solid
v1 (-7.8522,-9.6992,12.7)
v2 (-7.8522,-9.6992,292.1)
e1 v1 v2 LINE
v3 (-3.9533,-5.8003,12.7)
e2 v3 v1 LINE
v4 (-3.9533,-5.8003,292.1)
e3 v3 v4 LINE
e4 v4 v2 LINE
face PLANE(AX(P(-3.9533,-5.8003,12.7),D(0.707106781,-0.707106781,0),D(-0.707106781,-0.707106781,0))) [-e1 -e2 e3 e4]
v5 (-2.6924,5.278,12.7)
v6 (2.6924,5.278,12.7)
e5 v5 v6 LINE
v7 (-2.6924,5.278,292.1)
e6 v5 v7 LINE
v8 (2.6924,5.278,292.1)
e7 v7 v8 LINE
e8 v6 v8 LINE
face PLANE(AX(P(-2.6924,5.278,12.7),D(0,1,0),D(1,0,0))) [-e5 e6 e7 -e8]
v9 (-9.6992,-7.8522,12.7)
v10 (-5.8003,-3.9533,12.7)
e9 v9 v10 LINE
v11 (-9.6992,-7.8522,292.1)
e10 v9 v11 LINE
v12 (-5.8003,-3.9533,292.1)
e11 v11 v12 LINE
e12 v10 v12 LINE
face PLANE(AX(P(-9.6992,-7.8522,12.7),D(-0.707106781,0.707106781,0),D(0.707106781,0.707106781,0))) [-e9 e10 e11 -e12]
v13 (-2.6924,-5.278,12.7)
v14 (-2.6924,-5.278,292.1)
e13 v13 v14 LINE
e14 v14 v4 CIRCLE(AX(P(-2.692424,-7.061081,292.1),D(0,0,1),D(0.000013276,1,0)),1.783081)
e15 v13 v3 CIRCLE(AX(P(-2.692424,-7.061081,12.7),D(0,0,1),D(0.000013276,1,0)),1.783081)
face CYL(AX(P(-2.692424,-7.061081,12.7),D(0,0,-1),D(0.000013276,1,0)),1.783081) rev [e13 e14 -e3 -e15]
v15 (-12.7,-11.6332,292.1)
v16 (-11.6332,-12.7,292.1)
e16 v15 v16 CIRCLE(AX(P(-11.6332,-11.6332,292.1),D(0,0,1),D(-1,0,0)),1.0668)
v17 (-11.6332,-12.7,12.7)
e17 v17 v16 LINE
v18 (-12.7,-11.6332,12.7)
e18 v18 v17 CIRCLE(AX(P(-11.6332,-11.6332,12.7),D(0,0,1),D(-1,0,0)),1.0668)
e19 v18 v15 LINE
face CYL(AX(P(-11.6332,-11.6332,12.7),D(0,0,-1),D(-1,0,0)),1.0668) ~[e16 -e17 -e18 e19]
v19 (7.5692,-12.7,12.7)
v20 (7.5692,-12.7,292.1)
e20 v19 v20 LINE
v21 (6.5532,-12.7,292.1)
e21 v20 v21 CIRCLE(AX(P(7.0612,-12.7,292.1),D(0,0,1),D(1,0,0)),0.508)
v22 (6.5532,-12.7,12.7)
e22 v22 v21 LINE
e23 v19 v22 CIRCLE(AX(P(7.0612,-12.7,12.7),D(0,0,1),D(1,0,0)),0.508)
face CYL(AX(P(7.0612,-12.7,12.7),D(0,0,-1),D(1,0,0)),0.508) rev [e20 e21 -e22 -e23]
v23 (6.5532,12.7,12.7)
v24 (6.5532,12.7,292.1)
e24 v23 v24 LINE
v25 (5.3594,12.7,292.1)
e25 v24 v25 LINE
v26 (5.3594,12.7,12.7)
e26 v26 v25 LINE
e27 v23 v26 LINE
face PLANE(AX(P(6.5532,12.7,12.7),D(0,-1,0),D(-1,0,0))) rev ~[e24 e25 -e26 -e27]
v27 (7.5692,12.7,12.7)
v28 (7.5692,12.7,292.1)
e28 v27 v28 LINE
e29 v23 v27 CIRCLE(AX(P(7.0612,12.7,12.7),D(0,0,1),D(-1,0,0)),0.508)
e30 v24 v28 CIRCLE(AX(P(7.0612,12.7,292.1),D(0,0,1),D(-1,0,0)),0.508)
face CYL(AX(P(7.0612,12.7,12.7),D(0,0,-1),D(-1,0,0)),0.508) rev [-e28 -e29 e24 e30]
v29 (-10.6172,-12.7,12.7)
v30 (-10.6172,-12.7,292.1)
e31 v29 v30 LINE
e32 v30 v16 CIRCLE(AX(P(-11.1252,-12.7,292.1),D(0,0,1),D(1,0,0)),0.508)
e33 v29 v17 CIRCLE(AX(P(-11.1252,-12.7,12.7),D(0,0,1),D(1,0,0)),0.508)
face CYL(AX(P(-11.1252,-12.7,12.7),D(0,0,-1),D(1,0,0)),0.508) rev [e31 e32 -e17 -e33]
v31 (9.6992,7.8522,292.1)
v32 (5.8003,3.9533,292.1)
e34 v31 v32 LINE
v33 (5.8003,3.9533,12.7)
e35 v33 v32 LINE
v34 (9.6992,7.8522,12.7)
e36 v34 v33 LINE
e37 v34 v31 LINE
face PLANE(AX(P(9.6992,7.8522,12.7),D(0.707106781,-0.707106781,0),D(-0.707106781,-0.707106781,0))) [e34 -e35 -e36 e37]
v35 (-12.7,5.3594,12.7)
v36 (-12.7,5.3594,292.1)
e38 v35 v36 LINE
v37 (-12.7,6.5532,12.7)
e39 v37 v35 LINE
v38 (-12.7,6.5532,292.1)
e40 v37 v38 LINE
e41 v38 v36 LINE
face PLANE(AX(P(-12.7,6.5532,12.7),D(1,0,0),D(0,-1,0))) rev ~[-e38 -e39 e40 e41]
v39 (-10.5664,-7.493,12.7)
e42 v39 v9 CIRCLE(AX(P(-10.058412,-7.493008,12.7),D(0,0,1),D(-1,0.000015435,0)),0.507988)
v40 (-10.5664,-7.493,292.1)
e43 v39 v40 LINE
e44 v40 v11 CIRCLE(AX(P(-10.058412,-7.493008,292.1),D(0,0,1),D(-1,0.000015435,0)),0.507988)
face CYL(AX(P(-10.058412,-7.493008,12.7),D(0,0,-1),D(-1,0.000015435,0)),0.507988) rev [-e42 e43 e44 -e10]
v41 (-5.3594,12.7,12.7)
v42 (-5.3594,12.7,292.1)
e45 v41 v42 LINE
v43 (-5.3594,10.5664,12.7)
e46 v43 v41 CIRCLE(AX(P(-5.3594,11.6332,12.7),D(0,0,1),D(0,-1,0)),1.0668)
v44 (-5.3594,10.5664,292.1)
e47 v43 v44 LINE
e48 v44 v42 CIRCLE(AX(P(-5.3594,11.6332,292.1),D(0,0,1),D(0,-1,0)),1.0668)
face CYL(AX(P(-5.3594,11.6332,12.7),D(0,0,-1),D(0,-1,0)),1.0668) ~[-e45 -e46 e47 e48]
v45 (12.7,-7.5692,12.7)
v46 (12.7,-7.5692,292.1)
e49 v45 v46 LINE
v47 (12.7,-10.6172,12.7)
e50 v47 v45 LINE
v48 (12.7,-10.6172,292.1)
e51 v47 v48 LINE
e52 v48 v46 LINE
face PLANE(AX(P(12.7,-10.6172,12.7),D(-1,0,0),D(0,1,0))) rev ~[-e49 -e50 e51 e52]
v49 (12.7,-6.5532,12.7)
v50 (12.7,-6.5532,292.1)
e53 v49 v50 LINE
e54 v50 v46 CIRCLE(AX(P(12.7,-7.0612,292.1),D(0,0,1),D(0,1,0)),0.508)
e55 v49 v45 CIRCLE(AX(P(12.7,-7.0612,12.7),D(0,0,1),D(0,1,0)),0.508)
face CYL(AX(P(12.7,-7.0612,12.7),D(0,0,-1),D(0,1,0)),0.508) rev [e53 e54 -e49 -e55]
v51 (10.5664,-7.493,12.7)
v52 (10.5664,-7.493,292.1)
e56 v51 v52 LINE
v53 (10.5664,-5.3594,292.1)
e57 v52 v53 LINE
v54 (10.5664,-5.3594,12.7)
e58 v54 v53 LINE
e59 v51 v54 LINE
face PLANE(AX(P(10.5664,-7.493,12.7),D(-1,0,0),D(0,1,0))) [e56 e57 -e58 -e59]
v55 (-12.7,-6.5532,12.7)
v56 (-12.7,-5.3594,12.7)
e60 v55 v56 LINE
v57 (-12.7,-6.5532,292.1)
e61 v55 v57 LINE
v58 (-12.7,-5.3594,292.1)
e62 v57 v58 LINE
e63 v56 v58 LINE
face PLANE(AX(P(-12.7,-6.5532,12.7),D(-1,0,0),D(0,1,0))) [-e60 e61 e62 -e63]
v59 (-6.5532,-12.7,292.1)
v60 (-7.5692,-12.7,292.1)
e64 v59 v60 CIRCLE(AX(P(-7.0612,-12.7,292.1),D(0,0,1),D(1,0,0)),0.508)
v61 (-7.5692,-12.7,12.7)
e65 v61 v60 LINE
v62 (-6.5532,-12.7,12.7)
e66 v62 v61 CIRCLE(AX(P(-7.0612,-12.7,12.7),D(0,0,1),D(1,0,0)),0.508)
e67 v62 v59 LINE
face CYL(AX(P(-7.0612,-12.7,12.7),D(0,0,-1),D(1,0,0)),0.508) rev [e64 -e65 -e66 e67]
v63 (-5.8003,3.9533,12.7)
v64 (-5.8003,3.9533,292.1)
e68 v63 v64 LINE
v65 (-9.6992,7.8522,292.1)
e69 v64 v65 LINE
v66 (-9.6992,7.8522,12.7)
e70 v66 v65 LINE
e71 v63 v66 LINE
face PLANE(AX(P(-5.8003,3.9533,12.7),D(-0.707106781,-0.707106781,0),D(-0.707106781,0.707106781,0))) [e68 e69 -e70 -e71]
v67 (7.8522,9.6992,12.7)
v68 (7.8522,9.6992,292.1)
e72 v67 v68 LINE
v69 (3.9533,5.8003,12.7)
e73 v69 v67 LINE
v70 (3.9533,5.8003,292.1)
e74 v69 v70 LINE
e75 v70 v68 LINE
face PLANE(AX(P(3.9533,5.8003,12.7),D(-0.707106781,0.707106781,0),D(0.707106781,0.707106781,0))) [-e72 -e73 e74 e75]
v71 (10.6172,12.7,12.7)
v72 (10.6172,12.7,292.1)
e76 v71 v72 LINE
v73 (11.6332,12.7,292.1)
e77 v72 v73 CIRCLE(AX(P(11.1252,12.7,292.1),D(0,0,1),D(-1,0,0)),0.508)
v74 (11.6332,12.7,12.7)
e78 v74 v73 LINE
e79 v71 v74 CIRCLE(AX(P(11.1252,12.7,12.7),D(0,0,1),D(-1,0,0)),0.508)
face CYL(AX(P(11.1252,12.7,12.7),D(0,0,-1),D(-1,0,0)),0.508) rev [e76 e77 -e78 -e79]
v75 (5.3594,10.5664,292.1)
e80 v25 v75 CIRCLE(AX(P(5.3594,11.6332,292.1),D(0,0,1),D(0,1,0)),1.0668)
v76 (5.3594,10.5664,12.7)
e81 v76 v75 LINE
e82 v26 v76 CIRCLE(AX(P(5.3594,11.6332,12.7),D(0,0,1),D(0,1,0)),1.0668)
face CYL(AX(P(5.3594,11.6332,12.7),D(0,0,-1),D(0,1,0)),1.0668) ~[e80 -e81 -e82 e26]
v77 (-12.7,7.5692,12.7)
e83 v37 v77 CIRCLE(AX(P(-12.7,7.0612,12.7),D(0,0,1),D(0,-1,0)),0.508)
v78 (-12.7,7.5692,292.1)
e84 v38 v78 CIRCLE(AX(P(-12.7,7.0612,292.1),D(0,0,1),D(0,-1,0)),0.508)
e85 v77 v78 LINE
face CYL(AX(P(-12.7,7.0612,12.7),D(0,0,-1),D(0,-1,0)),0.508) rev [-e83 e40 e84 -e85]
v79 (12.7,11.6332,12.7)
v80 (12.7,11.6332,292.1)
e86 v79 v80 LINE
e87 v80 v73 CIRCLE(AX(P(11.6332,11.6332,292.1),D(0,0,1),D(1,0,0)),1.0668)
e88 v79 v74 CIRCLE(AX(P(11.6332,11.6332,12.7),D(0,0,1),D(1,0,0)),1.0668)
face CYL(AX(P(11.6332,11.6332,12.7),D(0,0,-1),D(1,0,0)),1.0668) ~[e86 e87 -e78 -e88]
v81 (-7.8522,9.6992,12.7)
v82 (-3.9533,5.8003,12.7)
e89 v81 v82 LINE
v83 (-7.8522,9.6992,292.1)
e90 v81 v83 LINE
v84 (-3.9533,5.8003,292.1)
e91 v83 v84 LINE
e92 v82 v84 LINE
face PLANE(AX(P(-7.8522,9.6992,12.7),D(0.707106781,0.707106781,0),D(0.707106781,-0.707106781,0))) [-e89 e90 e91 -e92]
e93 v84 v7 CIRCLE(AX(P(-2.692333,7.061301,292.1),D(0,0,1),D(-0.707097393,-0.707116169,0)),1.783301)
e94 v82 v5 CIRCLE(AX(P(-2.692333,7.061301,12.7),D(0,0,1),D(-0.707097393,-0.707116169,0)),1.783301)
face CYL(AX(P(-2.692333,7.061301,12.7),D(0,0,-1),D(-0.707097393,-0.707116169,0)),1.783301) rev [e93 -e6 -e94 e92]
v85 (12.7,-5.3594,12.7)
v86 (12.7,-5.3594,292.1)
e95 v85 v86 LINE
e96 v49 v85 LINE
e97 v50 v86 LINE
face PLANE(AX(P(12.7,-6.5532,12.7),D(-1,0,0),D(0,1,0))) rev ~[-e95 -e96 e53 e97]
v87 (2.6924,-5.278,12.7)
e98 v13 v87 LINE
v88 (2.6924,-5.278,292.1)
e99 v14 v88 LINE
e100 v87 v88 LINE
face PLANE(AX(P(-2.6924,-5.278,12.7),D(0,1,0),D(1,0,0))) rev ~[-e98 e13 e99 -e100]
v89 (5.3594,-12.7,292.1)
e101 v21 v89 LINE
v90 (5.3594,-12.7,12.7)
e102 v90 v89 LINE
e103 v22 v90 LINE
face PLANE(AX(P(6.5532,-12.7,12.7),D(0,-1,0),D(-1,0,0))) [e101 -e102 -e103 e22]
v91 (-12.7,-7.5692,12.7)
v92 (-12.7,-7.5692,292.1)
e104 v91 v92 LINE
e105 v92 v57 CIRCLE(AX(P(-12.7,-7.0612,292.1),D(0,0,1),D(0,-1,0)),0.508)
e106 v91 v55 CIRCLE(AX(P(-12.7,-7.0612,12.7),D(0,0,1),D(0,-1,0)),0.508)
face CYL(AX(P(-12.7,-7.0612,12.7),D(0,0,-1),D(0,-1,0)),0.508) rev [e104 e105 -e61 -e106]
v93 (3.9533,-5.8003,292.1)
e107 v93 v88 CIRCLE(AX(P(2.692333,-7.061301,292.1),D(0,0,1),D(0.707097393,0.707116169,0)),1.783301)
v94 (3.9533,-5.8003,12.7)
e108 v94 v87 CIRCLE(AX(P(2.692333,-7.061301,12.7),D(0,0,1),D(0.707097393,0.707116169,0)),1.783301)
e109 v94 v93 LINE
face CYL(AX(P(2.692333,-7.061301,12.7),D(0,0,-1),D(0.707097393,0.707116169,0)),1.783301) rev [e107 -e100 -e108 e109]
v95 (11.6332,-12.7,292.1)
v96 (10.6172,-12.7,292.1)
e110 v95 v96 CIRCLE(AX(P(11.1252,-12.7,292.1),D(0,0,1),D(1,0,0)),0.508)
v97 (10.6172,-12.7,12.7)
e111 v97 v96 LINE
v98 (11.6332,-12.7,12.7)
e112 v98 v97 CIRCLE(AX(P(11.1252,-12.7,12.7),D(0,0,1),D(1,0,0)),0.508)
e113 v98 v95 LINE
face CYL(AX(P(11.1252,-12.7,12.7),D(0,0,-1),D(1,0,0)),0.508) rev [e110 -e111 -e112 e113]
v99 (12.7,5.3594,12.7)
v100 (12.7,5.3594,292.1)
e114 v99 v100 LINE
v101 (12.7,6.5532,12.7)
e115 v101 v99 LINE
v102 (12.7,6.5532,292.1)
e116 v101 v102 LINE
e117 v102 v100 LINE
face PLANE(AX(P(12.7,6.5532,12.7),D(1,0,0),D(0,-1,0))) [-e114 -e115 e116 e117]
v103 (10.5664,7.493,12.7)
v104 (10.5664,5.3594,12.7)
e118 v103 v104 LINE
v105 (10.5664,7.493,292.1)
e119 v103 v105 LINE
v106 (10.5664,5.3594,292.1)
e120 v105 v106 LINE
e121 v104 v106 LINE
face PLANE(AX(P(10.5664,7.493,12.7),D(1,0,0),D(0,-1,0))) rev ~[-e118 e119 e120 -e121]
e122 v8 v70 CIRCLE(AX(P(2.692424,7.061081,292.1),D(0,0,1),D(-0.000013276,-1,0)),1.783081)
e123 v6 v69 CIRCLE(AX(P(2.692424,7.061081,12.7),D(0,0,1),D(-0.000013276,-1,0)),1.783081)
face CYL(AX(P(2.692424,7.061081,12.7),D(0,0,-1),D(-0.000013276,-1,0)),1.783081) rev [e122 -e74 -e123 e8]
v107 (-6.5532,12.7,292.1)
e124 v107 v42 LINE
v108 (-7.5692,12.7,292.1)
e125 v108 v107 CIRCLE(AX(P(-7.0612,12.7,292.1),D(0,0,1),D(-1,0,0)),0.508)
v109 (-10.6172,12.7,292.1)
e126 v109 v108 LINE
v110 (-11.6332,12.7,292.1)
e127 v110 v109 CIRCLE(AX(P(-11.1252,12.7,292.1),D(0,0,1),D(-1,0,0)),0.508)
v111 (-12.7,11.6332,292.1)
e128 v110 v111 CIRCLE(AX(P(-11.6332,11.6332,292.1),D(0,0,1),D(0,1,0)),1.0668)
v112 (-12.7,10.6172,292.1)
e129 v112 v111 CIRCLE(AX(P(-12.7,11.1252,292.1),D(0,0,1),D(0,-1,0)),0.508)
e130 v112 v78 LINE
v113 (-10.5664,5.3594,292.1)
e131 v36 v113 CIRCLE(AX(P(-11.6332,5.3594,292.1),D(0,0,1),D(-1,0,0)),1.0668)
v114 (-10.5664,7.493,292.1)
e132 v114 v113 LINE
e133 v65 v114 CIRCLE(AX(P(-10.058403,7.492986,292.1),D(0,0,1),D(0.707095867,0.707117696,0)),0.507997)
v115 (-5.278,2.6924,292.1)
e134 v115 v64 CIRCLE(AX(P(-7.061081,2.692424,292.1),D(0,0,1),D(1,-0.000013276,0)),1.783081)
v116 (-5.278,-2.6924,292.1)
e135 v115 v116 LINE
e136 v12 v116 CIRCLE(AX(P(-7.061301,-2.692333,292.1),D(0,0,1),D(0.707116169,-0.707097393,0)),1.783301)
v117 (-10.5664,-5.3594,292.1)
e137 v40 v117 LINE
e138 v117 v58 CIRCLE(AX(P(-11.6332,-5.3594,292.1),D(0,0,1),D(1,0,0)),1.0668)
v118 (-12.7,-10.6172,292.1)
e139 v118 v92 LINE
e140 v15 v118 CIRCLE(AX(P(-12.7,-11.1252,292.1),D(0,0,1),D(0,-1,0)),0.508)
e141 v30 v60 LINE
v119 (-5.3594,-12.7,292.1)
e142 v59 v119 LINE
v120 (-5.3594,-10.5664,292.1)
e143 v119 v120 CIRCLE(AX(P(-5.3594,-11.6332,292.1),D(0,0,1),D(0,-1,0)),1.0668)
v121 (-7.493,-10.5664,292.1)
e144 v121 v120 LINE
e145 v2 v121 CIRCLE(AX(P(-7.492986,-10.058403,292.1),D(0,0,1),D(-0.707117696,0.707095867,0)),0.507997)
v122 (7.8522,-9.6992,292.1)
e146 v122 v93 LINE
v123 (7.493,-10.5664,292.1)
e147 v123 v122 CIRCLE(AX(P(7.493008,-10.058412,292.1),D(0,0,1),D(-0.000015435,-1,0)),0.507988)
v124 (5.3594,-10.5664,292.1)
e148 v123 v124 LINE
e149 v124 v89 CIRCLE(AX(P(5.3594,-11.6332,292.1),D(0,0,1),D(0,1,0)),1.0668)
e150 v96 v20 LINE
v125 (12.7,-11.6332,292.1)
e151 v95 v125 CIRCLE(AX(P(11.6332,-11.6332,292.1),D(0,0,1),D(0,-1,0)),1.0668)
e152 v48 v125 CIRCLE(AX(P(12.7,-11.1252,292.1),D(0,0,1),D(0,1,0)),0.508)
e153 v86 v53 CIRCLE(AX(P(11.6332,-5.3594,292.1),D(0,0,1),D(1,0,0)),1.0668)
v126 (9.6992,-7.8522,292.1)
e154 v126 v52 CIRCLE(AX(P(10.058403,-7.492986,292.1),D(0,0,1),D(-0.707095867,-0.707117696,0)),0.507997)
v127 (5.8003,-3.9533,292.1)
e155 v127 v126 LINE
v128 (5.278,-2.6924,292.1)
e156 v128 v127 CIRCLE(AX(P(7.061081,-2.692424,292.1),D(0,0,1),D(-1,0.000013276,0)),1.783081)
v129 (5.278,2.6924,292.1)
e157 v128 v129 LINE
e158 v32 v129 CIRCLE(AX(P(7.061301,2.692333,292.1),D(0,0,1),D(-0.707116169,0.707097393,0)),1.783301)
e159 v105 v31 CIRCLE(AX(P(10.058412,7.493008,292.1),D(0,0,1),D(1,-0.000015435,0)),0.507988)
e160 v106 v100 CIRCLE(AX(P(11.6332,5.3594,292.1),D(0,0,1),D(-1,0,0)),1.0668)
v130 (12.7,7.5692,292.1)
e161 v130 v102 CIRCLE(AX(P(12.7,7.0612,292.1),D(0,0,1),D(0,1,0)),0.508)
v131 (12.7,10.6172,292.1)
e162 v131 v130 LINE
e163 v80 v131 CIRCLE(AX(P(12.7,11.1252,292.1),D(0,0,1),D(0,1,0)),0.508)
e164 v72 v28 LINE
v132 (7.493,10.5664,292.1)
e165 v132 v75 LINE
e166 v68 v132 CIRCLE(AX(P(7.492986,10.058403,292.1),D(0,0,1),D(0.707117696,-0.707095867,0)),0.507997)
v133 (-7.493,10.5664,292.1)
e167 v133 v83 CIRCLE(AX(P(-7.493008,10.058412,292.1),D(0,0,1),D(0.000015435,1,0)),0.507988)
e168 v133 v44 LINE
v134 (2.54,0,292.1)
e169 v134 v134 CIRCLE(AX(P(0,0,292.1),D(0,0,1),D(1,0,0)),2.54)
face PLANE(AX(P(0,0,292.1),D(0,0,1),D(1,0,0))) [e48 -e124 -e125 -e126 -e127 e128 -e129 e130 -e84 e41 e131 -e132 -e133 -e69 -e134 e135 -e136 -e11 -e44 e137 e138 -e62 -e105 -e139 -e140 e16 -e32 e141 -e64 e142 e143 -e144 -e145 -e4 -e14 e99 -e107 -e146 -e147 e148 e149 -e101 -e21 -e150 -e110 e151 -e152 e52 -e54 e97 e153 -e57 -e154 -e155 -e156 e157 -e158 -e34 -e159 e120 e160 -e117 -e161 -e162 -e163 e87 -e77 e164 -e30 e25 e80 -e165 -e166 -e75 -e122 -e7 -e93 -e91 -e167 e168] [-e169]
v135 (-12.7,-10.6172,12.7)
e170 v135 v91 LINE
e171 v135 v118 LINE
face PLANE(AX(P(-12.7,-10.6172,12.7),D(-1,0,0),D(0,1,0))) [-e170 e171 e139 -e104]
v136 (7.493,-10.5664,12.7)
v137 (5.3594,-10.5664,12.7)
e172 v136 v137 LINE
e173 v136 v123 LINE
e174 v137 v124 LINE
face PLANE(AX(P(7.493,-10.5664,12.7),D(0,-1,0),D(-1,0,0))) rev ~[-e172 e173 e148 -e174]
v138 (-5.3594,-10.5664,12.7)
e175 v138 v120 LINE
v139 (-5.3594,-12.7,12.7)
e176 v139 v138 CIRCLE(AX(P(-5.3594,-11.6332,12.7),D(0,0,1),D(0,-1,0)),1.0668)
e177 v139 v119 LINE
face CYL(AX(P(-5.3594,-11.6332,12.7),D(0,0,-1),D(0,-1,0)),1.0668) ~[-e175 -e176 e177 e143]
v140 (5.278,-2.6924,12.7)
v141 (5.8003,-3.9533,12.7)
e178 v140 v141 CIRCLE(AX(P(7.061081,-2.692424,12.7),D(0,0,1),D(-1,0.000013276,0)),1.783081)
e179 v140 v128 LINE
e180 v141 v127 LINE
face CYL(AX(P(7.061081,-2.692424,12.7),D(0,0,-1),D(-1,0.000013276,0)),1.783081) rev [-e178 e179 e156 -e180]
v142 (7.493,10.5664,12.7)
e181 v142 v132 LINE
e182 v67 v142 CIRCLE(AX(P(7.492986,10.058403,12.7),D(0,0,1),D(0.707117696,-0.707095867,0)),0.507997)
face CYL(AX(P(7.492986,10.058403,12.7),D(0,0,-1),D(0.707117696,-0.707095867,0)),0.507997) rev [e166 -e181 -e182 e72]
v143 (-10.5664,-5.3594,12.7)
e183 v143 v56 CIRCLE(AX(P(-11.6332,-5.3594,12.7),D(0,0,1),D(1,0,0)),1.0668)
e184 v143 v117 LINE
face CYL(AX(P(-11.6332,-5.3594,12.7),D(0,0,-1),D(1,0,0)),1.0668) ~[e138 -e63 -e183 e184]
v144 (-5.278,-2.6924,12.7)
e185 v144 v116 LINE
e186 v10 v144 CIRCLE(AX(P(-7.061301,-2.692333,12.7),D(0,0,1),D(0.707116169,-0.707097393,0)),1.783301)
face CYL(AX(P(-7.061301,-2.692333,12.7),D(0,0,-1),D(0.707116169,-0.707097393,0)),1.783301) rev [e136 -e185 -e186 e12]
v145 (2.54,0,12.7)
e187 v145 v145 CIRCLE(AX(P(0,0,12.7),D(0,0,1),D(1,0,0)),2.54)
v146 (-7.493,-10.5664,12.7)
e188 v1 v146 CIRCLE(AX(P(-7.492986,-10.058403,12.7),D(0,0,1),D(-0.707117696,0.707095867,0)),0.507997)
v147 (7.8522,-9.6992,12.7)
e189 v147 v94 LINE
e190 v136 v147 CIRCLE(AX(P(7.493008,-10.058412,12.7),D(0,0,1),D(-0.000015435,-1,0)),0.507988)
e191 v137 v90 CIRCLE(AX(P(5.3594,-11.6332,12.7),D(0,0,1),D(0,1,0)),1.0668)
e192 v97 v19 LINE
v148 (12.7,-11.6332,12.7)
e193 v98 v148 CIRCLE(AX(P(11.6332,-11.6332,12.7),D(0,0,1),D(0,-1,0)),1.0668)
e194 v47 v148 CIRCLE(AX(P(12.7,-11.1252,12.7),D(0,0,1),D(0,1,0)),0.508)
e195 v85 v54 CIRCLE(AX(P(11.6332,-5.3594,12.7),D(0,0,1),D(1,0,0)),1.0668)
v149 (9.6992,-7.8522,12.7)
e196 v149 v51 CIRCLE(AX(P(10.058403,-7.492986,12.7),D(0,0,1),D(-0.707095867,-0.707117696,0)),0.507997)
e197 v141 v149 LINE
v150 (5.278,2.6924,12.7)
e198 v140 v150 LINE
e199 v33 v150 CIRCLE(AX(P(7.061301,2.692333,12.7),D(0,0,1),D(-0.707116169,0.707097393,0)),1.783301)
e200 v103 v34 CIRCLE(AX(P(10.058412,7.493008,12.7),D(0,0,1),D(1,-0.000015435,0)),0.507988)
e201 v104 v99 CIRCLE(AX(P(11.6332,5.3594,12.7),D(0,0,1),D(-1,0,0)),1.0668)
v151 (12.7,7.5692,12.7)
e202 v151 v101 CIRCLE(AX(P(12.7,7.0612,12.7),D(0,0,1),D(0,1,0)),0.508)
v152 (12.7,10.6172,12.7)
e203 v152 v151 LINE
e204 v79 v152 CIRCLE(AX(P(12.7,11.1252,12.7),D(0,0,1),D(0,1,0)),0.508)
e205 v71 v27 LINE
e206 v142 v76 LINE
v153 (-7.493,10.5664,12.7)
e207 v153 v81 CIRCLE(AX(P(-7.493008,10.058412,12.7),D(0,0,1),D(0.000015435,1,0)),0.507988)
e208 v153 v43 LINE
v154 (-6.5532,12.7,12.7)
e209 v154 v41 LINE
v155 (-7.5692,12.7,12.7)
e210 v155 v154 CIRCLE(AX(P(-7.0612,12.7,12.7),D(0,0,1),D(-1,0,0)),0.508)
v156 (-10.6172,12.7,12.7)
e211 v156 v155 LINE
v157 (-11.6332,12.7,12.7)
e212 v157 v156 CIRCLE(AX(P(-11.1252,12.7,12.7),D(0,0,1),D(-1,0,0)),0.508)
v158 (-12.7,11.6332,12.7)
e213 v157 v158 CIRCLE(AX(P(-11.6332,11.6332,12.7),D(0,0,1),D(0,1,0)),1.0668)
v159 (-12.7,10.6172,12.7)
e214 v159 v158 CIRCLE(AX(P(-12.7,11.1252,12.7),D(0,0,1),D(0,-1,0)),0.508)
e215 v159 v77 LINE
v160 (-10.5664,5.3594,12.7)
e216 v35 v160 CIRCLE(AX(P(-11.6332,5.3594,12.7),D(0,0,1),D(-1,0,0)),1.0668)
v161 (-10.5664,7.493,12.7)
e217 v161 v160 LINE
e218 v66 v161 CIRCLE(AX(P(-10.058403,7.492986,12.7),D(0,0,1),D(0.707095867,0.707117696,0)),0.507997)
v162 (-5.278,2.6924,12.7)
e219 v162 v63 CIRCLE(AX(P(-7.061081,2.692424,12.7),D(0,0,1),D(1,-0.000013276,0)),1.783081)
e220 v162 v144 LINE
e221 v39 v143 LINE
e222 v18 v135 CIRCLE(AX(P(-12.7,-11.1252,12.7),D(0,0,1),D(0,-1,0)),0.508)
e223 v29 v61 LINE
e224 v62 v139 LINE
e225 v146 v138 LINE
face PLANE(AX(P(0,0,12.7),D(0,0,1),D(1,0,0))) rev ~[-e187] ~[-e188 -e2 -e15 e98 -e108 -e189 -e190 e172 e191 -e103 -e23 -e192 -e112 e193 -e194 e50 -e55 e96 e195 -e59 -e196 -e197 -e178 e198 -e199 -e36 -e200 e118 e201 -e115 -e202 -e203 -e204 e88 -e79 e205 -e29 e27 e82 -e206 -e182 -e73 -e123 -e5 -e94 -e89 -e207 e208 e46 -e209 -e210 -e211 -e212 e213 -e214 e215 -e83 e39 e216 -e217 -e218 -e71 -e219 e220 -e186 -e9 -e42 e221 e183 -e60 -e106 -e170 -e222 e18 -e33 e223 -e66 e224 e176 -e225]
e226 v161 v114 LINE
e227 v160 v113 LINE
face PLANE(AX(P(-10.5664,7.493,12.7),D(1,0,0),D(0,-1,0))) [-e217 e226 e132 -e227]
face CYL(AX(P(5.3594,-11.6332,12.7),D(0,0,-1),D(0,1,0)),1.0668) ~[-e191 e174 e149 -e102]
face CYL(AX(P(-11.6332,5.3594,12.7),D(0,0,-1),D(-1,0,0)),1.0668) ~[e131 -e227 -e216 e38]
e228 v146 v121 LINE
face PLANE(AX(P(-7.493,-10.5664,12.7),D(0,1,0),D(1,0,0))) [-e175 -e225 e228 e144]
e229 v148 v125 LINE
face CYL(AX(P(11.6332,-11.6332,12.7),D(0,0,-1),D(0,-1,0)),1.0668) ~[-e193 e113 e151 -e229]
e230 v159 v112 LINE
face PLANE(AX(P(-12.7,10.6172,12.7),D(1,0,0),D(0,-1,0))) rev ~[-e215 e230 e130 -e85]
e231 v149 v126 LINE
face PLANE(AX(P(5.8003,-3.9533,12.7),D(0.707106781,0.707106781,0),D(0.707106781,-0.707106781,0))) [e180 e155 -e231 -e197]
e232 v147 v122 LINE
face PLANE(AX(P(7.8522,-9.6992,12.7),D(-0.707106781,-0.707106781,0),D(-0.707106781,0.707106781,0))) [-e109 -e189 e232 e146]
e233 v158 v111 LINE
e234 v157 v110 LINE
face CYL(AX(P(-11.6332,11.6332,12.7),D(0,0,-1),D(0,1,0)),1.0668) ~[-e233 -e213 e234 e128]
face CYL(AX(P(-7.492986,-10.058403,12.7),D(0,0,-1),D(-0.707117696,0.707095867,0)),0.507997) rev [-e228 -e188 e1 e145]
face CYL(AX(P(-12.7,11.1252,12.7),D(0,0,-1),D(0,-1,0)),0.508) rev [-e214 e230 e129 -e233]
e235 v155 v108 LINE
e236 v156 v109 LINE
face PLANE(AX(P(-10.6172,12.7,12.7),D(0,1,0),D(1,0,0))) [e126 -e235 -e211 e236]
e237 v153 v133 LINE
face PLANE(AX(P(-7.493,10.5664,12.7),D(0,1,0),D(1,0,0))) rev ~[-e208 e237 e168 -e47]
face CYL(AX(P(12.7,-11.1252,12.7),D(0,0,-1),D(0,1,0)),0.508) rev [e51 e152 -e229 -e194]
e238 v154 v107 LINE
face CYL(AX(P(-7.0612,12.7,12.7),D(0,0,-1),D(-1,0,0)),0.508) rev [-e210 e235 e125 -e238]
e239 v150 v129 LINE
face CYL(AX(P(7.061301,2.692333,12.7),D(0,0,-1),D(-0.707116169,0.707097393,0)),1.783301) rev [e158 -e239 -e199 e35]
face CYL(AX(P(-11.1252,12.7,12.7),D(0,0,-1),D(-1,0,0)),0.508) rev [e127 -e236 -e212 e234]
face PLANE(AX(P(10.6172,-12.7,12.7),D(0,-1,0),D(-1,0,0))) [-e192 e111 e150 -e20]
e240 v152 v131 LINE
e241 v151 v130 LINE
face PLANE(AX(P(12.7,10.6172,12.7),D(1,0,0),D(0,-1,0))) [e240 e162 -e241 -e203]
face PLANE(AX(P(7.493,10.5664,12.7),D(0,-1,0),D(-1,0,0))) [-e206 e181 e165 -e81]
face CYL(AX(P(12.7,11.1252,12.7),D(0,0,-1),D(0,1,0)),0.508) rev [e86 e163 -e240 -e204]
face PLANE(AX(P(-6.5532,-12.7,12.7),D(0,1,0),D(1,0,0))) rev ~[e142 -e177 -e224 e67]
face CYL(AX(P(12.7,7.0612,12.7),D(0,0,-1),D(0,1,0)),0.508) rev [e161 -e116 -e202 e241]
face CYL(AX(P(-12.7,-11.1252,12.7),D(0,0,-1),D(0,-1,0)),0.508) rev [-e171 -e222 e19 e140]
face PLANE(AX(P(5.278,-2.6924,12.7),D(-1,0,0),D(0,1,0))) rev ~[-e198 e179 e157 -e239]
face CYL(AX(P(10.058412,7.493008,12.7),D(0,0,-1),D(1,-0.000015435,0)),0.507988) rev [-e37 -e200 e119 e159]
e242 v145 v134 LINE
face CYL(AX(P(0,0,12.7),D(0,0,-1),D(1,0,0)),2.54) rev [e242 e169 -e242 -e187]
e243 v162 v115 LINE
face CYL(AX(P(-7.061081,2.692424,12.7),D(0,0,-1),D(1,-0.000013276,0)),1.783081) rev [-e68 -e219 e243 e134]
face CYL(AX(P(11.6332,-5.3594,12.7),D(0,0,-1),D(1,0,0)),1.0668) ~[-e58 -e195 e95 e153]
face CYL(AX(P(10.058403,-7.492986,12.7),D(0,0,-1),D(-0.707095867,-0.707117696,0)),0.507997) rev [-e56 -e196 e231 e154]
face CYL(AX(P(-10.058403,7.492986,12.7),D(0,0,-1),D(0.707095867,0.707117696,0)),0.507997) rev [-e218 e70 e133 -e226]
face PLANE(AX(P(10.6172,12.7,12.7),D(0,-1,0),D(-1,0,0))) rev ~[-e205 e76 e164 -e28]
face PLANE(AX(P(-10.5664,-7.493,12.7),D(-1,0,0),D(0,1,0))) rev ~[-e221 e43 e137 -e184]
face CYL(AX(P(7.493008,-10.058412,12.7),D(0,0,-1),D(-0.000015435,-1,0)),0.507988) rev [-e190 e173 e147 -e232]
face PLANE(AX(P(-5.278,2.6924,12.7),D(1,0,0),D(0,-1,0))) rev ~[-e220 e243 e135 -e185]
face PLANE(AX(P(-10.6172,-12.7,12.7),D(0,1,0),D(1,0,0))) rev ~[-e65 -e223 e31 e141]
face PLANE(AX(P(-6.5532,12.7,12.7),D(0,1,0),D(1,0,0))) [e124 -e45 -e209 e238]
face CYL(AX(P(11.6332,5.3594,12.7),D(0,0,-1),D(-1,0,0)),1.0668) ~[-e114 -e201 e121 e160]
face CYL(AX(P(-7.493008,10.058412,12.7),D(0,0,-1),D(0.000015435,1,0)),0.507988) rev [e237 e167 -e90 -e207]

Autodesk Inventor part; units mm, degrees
ref_plane "Start Plane" through (0, 0, 12.7) normal (0, 0, 1) x (1, 0, 0)
ref_plane "End Plane" through (0, 0, 292.1) normal (0, 0, 1) x (1, 0, 0)
sketch "Sketch" plane through (0, 0, 0) normal (0, 0, 1) x (1, 0, 0)
  arc A0 (-11.6332, 12.7) -> (-12.7, 11.6332) centre (-11.6332, 11.6332) ccw
  arc A1 (-5.3594, 10.5664) -> (-5.3594, 12.7) centre (-5.3594, 11.6332) ccw
  arc A2 (-12.7, 5.3594) -> (-10.5664, 5.3594) centre (-11.6332, 5.3594) ccw
  line L0 (-10.5664, 7.493) -> (-10.5664, 5.3594)
  line L1 (-7.493, 10.5664) -> (-5.3594, 10.5664)
  arc A3 (-9.6992, 7.8522) -> (-10.5664, 7.493) centre (-10.0584, 7.493) ccw
  arc A4 (-7.493, 10.5664) -> (-7.8522, 9.6992) centre (-7.493, 10.0584) ccw
  line L2 (-11.6332, 11.6332) -> (0, 0) construction
  line L3 (-5.8003, 3.9533) -> (-9.6992, 7.8522)
  line L4 (-7.8522, 9.6992) -> (-3.9533, 5.8003)
  arc A5 (-3.9533, 5.8003) -> (-2.6924, 5.278) centre (-2.6924, 7.0612) ccw
  arc A6 (-5.278, 2.6924) -> (-5.8003, 3.9533) centre (-7.0612, 2.6924) ccw
  arc A7 (0, 2.54) -> (-2.54, 0) centre (0, 0) ccw construction
  line L5 (0, 0) -> (-12.7, 0) construction
  line L6 (0, 12.7) -> (0, 0) construction
  arc A8 (-11.6332, 12.7) -> (-10.6172, 12.7) centre (-11.1252, 12.7) ccw
  arc A9 (-7.5692, 12.7) -> (-6.5532, 12.7) centre (-7.0612, 12.7) ccw
  arc A10 (-12.7, 10.6172) -> (-12.7, 11.6332) centre (-12.7, 11.1252) ccw
  arc A11 (-12.7, 6.5532) -> (-12.7, 7.5692) centre (-12.7, 7.0612) ccw
  line L7 (-12.7, 10.6172) -> (-12.7, 7.5692)
  line L8 (-12.7, 6.5532) -> (-12.7, 5.3594)
  line L9 (-10.6172, 12.7) -> (-7.5692, 12.7)
  line L10 (-6.5532, 12.7) -> (-5.3594, 12.7)
  circle A12 centre (0, 0) radius 2.54
  arc A13 (-12.7, -11.6332) -> (-11.6332, -12.7) centre (-11.6332, -11.6332) ccw
  line L11 (-12.7, -10.6172) -> (-12.7, -7.5692)
  arc A14 (-10.5664, -7.493) -> (-9.6992, -7.8522) centre (-10.0584, -7.493) ccw
  line L12 (-9.6992, -7.8522) -> (-5.8003, -3.9533)
  line L13 (-11.6332, -11.6332) -> (0, 0) construction
  line L14 (-3.9533, -5.8003) -> (-7.8522, -9.6992)
  arc A15 (-7.8522, -9.6992) -> (-7.493, -10.5664) centre (-7.493, -10.0584) ccw
  line L15 (-10.6172, -12.7) -> (-7.5692, -12.7)
  line L16 (-7.493, -10.5664) -> (-5.3594, -10.5664)
  arc A16 (-6.5532, -12.7) -> (-7.5692, -12.7) centre (-7.0612, -12.7) ccw
  line L17 (-6.5532, -12.7) -> (-5.3594, -12.7)
  arc A17 (-5.3594, -12.7) -> (-5.3594, -10.5664) centre (-5.3594, -11.6332) ccw
  arc A18 (-10.6172, -12.7) -> (-11.6332, -12.7) centre (-11.1252, -12.7) ccw
  arc A19 (-12.7, -11.6332) -> (-12.7, -10.6172) centre (-12.7, -11.1252) ccw
  arc A20 (-2.6924, -5.278) -> (-3.9533, -5.8003) centre (-2.6924, -7.0612) ccw
  arc A21 (-5.8003, -3.9533) -> (-5.278, -2.6924) centre (-7.0612, -2.6924) ccw
  line L18 (-10.5664, -7.493) -> (-10.5664, -5.3594)
  line L19 (-12.7, -6.5532) -> (-12.7, -5.3594)
  arc A22 (-10.5664, -5.3594) -> (-12.7, -5.3594) centre (-11.6332, -5.3594) ccw
  arc A23 (-12.7, -7.5692) -> (-12.7, -6.5532) centre (-12.7, -7.0612) ccw
  arc A24 (11.6332, -12.7) -> (12.7, -11.6332) centre (11.6332, -11.6332) ccw
  line L20 (10.6172, -12.7) -> (7.5692, -12.7)
  arc A25 (7.493, -10.5664) -> (7.8522, -9.6992) centre (7.493, -10.0584) ccw
  line L21 (7.8522, -9.6992) -> (3.9533, -5.8003)
  line L22 (11.6332, -11.6332) -> (0, 0) construction
  line L23 (5.8003, -3.9533) -> (9.6992, -7.8522)
  arc A26 (9.6992, -7.8522) -> (10.5664, -7.493) centre (10.0584, -7.493) ccw
  line L24 (12.7, -10.6172) -> (12.7, -7.5692)
  line L25 (10.5664, -7.493) -> (10.5664, -5.3594)
  arc A27 (12.7, -6.5532) -> (12.7, -7.5692) centre (12.7, -7.0612) ccw
  line L26 (12.7, -6.5532) -> (12.7, -5.3594)
  arc A28 (12.7, -5.3594) -> (10.5664, -5.3594) centre (11.6332, -5.3594) ccw
  arc A29 (12.7, -10.6172) -> (12.7, -11.6332) centre (12.7, -11.1252) ccw
  arc A30 (11.6332, -12.7) -> (10.6172, -12.7) centre (11.1252, -12.7) ccw
  arc A31 (5.278, -2.6924) -> (5.8003, -3.9533) centre (7.0612, -2.6924) ccw
  arc A32 (3.9533, -5.8003) -> (2.6924, -5.278) centre (2.6924, -7.0612) ccw
  line L27 (7.493, -10.5664) -> (5.3594, -10.5664)
  line L28 (6.5532, -12.7) -> (5.3594, -12.7)
  arc A33 (5.3594, -10.5664) -> (5.3594, -12.7) centre (5.3594, -11.6332) ccw
  arc A34 (7.5692, -12.7) -> (6.5532, -12.7) centre (7.0612, -12.7) ccw
  arc A35 (12.7, 11.6332) -> (11.6332, 12.7) centre (11.6332, 11.6332) ccw
  line L29 (12.7, 10.6172) -> (12.7, 7.5692)
  arc A36 (10.5664, 7.493) -> (9.6992, 7.8522) centre (10.0584, 7.493) ccw
  line L30 (9.6992, 7.8522) -> (5.8003, 3.9533)
  line L31 (11.6332, 11.6332) -> (0, 0) construction
  line L32 (3.9533, 5.8003) -> (7.8522, 9.6992)
  arc A37 (7.8522, 9.6992) -> (7.493, 10.5664) centre (7.493, 10.0584) ccw
  line L33 (10.6172, 12.7) -> (7.5692, 12.7)
  line L34 (7.493, 10.5664) -> (5.3594, 10.5664)
  arc A38 (6.5532, 12.7) -> (7.5692, 12.7) centre (7.0612, 12.7) ccw
  line L35 (6.5532, 12.7) -> (5.3594, 12.7)
  arc A39 (5.3594, 12.7) -> (5.3594, 10.5664) centre (5.3594, 11.6332) ccw
  arc A40 (10.6172, 12.7) -> (11.6332, 12.7) centre (11.1252, 12.7) ccw
  arc A41 (12.7, 11.6332) -> (12.7, 10.6172) centre (12.7, 11.1252) ccw
  arc A42 (2.6924, 5.278) -> (3.9533, 5.8003) centre (2.6924, 7.0612) ccw
  arc A43 (5.8003, 3.9533) -> (5.278, 2.6924) centre (7.0612, 2.6924) ccw
  line L36 (10.5664, 7.493) -> (10.5664, 5.3594)
  line L37 (12.7, 6.5532) -> (12.7, 5.3594)
  arc A44 (10.5664, 5.3594) -> (12.7, 5.3594) centre (11.6332, 5.3594) ccw
  arc A45 (12.7, 7.5692) -> (12.7, 6.5532) centre (12.7, 7.0612) ccw
  line L38 (-2.6924, 5.278) -> (2.6924, 5.278)
  line L39 (-5.278, 2.6924) -> (-5.278, -2.6924)
  line L40 (-2.6924, -5.278) -> (2.6924, -5.278)
  line L41 (5.278, -2.6924) -> (5.278, 2.6924)
  point P0 (0, 0)
  point P1 (0, 0)
  dimension "d2" = 2.1336
  dimension "d3" = 6.2738
  dimension "d4" = 6.2738
  dimension "d5" = 1.0668
  dimension "d6" = 2.1336
  dimension "d7" = 2.1336
  dimension "d8" = 1.016
  dimension "d9" = 1.016
  dimension "d10" = 135
  dimension "d11" = 2.667
  dimension "d12" = 4.572
  dimension "d13" = 4.572
  dimension "d14" = 2.667
  dimension "d15" = 5.08
  dimension "d16" = 45
  dimension "d19" = 45
  dimension "d20" = 0.508
  dimension "d21" = 4.572
  dimension "d22" = 1.016
  dimension "d23" = 4.572
  dimension "d24" = 1.016
  dimension "d25" = 0.508
  dimension "d26" = 0.508
  dimension "d27" = 0.508
  dimension "d28" = 12.7
  dimension "d37" = 360
  dimension "d47" = 10.5664
  dimension "d48" = 12.7
extrude "Body" add sketch "Sketch" along normal up to surface (279.4 mm away) from surface at 12.7
sketch "Sketch2" plane through (0, 0, 0) normal (0, 0, 1) x (1, 0, 0)
  line L0 (0, 0) -> (10, 0)
ref_plane "Work Plane3" through (0, 0, 0) normal (0, -1, 0) x (1, 0, 0)
sketch "Sketch3" plane through (0, 0, 0) normal (0, -1, 0) x (1, 0, 0)
  line L0 (-2, 12.7) -> (12, 12.7)
  line L1 (-2, 292.1) -> (12, 292.1)
  dimension "d60" = 279.4
ref_plane "Work Plane4" through (0, 7.5692, 292.1) normal (0, 0, 1) x (1, 0, 0)
split "Split1" plane through (0, 7.5692, 292.1) removes the side toward (0, 0, 1)
ref_plane "Work Plane5" through (7.5692, 0, 292.1) normal (0, 0, 1) x (1, 0, 0)
split "Split2" plane through (7.5692, 0, 292.1) removes the side toward (0, 0, 1)
ref_plane "Work Plane6" through (10.6172, -279.4, 12.7) normal (0, 0, -1) x (-1, 0, 0)
split "Split3" plane through (10.6172, -279.4, 12.7) removes the side toward (0, 0, -1)
equation "\"d3\" = d4"
equation "\"d6\" = d7"
equation "\"d11\" = d14"
equation "\"d12\" = d13"
equation "\"d23\" = d21"
equation "\"d24\" = d30"
equation "\"d26\" = 0.5 * d24"
equation "\"d27\" = 0.5 * d22"
equation "\"Width\" = 2 * d28"
equation "\"Height\" = 2 * d48"
equation "\"G_OFFSET_START\" = -12.7"
equation "\"G_OFFSET_END\" = 12.7"
equation "\"d55\" = -G_OFFSET_START"
equation "\"d56\" = Length + G_OFFSET_END"
equation "\"G_L\" = 279.4"
equation "\"d30\" = 1.016"
equation "\"Length\" = 279.4"
properties part number "1010_80_20" material "Aluminum-6061"
